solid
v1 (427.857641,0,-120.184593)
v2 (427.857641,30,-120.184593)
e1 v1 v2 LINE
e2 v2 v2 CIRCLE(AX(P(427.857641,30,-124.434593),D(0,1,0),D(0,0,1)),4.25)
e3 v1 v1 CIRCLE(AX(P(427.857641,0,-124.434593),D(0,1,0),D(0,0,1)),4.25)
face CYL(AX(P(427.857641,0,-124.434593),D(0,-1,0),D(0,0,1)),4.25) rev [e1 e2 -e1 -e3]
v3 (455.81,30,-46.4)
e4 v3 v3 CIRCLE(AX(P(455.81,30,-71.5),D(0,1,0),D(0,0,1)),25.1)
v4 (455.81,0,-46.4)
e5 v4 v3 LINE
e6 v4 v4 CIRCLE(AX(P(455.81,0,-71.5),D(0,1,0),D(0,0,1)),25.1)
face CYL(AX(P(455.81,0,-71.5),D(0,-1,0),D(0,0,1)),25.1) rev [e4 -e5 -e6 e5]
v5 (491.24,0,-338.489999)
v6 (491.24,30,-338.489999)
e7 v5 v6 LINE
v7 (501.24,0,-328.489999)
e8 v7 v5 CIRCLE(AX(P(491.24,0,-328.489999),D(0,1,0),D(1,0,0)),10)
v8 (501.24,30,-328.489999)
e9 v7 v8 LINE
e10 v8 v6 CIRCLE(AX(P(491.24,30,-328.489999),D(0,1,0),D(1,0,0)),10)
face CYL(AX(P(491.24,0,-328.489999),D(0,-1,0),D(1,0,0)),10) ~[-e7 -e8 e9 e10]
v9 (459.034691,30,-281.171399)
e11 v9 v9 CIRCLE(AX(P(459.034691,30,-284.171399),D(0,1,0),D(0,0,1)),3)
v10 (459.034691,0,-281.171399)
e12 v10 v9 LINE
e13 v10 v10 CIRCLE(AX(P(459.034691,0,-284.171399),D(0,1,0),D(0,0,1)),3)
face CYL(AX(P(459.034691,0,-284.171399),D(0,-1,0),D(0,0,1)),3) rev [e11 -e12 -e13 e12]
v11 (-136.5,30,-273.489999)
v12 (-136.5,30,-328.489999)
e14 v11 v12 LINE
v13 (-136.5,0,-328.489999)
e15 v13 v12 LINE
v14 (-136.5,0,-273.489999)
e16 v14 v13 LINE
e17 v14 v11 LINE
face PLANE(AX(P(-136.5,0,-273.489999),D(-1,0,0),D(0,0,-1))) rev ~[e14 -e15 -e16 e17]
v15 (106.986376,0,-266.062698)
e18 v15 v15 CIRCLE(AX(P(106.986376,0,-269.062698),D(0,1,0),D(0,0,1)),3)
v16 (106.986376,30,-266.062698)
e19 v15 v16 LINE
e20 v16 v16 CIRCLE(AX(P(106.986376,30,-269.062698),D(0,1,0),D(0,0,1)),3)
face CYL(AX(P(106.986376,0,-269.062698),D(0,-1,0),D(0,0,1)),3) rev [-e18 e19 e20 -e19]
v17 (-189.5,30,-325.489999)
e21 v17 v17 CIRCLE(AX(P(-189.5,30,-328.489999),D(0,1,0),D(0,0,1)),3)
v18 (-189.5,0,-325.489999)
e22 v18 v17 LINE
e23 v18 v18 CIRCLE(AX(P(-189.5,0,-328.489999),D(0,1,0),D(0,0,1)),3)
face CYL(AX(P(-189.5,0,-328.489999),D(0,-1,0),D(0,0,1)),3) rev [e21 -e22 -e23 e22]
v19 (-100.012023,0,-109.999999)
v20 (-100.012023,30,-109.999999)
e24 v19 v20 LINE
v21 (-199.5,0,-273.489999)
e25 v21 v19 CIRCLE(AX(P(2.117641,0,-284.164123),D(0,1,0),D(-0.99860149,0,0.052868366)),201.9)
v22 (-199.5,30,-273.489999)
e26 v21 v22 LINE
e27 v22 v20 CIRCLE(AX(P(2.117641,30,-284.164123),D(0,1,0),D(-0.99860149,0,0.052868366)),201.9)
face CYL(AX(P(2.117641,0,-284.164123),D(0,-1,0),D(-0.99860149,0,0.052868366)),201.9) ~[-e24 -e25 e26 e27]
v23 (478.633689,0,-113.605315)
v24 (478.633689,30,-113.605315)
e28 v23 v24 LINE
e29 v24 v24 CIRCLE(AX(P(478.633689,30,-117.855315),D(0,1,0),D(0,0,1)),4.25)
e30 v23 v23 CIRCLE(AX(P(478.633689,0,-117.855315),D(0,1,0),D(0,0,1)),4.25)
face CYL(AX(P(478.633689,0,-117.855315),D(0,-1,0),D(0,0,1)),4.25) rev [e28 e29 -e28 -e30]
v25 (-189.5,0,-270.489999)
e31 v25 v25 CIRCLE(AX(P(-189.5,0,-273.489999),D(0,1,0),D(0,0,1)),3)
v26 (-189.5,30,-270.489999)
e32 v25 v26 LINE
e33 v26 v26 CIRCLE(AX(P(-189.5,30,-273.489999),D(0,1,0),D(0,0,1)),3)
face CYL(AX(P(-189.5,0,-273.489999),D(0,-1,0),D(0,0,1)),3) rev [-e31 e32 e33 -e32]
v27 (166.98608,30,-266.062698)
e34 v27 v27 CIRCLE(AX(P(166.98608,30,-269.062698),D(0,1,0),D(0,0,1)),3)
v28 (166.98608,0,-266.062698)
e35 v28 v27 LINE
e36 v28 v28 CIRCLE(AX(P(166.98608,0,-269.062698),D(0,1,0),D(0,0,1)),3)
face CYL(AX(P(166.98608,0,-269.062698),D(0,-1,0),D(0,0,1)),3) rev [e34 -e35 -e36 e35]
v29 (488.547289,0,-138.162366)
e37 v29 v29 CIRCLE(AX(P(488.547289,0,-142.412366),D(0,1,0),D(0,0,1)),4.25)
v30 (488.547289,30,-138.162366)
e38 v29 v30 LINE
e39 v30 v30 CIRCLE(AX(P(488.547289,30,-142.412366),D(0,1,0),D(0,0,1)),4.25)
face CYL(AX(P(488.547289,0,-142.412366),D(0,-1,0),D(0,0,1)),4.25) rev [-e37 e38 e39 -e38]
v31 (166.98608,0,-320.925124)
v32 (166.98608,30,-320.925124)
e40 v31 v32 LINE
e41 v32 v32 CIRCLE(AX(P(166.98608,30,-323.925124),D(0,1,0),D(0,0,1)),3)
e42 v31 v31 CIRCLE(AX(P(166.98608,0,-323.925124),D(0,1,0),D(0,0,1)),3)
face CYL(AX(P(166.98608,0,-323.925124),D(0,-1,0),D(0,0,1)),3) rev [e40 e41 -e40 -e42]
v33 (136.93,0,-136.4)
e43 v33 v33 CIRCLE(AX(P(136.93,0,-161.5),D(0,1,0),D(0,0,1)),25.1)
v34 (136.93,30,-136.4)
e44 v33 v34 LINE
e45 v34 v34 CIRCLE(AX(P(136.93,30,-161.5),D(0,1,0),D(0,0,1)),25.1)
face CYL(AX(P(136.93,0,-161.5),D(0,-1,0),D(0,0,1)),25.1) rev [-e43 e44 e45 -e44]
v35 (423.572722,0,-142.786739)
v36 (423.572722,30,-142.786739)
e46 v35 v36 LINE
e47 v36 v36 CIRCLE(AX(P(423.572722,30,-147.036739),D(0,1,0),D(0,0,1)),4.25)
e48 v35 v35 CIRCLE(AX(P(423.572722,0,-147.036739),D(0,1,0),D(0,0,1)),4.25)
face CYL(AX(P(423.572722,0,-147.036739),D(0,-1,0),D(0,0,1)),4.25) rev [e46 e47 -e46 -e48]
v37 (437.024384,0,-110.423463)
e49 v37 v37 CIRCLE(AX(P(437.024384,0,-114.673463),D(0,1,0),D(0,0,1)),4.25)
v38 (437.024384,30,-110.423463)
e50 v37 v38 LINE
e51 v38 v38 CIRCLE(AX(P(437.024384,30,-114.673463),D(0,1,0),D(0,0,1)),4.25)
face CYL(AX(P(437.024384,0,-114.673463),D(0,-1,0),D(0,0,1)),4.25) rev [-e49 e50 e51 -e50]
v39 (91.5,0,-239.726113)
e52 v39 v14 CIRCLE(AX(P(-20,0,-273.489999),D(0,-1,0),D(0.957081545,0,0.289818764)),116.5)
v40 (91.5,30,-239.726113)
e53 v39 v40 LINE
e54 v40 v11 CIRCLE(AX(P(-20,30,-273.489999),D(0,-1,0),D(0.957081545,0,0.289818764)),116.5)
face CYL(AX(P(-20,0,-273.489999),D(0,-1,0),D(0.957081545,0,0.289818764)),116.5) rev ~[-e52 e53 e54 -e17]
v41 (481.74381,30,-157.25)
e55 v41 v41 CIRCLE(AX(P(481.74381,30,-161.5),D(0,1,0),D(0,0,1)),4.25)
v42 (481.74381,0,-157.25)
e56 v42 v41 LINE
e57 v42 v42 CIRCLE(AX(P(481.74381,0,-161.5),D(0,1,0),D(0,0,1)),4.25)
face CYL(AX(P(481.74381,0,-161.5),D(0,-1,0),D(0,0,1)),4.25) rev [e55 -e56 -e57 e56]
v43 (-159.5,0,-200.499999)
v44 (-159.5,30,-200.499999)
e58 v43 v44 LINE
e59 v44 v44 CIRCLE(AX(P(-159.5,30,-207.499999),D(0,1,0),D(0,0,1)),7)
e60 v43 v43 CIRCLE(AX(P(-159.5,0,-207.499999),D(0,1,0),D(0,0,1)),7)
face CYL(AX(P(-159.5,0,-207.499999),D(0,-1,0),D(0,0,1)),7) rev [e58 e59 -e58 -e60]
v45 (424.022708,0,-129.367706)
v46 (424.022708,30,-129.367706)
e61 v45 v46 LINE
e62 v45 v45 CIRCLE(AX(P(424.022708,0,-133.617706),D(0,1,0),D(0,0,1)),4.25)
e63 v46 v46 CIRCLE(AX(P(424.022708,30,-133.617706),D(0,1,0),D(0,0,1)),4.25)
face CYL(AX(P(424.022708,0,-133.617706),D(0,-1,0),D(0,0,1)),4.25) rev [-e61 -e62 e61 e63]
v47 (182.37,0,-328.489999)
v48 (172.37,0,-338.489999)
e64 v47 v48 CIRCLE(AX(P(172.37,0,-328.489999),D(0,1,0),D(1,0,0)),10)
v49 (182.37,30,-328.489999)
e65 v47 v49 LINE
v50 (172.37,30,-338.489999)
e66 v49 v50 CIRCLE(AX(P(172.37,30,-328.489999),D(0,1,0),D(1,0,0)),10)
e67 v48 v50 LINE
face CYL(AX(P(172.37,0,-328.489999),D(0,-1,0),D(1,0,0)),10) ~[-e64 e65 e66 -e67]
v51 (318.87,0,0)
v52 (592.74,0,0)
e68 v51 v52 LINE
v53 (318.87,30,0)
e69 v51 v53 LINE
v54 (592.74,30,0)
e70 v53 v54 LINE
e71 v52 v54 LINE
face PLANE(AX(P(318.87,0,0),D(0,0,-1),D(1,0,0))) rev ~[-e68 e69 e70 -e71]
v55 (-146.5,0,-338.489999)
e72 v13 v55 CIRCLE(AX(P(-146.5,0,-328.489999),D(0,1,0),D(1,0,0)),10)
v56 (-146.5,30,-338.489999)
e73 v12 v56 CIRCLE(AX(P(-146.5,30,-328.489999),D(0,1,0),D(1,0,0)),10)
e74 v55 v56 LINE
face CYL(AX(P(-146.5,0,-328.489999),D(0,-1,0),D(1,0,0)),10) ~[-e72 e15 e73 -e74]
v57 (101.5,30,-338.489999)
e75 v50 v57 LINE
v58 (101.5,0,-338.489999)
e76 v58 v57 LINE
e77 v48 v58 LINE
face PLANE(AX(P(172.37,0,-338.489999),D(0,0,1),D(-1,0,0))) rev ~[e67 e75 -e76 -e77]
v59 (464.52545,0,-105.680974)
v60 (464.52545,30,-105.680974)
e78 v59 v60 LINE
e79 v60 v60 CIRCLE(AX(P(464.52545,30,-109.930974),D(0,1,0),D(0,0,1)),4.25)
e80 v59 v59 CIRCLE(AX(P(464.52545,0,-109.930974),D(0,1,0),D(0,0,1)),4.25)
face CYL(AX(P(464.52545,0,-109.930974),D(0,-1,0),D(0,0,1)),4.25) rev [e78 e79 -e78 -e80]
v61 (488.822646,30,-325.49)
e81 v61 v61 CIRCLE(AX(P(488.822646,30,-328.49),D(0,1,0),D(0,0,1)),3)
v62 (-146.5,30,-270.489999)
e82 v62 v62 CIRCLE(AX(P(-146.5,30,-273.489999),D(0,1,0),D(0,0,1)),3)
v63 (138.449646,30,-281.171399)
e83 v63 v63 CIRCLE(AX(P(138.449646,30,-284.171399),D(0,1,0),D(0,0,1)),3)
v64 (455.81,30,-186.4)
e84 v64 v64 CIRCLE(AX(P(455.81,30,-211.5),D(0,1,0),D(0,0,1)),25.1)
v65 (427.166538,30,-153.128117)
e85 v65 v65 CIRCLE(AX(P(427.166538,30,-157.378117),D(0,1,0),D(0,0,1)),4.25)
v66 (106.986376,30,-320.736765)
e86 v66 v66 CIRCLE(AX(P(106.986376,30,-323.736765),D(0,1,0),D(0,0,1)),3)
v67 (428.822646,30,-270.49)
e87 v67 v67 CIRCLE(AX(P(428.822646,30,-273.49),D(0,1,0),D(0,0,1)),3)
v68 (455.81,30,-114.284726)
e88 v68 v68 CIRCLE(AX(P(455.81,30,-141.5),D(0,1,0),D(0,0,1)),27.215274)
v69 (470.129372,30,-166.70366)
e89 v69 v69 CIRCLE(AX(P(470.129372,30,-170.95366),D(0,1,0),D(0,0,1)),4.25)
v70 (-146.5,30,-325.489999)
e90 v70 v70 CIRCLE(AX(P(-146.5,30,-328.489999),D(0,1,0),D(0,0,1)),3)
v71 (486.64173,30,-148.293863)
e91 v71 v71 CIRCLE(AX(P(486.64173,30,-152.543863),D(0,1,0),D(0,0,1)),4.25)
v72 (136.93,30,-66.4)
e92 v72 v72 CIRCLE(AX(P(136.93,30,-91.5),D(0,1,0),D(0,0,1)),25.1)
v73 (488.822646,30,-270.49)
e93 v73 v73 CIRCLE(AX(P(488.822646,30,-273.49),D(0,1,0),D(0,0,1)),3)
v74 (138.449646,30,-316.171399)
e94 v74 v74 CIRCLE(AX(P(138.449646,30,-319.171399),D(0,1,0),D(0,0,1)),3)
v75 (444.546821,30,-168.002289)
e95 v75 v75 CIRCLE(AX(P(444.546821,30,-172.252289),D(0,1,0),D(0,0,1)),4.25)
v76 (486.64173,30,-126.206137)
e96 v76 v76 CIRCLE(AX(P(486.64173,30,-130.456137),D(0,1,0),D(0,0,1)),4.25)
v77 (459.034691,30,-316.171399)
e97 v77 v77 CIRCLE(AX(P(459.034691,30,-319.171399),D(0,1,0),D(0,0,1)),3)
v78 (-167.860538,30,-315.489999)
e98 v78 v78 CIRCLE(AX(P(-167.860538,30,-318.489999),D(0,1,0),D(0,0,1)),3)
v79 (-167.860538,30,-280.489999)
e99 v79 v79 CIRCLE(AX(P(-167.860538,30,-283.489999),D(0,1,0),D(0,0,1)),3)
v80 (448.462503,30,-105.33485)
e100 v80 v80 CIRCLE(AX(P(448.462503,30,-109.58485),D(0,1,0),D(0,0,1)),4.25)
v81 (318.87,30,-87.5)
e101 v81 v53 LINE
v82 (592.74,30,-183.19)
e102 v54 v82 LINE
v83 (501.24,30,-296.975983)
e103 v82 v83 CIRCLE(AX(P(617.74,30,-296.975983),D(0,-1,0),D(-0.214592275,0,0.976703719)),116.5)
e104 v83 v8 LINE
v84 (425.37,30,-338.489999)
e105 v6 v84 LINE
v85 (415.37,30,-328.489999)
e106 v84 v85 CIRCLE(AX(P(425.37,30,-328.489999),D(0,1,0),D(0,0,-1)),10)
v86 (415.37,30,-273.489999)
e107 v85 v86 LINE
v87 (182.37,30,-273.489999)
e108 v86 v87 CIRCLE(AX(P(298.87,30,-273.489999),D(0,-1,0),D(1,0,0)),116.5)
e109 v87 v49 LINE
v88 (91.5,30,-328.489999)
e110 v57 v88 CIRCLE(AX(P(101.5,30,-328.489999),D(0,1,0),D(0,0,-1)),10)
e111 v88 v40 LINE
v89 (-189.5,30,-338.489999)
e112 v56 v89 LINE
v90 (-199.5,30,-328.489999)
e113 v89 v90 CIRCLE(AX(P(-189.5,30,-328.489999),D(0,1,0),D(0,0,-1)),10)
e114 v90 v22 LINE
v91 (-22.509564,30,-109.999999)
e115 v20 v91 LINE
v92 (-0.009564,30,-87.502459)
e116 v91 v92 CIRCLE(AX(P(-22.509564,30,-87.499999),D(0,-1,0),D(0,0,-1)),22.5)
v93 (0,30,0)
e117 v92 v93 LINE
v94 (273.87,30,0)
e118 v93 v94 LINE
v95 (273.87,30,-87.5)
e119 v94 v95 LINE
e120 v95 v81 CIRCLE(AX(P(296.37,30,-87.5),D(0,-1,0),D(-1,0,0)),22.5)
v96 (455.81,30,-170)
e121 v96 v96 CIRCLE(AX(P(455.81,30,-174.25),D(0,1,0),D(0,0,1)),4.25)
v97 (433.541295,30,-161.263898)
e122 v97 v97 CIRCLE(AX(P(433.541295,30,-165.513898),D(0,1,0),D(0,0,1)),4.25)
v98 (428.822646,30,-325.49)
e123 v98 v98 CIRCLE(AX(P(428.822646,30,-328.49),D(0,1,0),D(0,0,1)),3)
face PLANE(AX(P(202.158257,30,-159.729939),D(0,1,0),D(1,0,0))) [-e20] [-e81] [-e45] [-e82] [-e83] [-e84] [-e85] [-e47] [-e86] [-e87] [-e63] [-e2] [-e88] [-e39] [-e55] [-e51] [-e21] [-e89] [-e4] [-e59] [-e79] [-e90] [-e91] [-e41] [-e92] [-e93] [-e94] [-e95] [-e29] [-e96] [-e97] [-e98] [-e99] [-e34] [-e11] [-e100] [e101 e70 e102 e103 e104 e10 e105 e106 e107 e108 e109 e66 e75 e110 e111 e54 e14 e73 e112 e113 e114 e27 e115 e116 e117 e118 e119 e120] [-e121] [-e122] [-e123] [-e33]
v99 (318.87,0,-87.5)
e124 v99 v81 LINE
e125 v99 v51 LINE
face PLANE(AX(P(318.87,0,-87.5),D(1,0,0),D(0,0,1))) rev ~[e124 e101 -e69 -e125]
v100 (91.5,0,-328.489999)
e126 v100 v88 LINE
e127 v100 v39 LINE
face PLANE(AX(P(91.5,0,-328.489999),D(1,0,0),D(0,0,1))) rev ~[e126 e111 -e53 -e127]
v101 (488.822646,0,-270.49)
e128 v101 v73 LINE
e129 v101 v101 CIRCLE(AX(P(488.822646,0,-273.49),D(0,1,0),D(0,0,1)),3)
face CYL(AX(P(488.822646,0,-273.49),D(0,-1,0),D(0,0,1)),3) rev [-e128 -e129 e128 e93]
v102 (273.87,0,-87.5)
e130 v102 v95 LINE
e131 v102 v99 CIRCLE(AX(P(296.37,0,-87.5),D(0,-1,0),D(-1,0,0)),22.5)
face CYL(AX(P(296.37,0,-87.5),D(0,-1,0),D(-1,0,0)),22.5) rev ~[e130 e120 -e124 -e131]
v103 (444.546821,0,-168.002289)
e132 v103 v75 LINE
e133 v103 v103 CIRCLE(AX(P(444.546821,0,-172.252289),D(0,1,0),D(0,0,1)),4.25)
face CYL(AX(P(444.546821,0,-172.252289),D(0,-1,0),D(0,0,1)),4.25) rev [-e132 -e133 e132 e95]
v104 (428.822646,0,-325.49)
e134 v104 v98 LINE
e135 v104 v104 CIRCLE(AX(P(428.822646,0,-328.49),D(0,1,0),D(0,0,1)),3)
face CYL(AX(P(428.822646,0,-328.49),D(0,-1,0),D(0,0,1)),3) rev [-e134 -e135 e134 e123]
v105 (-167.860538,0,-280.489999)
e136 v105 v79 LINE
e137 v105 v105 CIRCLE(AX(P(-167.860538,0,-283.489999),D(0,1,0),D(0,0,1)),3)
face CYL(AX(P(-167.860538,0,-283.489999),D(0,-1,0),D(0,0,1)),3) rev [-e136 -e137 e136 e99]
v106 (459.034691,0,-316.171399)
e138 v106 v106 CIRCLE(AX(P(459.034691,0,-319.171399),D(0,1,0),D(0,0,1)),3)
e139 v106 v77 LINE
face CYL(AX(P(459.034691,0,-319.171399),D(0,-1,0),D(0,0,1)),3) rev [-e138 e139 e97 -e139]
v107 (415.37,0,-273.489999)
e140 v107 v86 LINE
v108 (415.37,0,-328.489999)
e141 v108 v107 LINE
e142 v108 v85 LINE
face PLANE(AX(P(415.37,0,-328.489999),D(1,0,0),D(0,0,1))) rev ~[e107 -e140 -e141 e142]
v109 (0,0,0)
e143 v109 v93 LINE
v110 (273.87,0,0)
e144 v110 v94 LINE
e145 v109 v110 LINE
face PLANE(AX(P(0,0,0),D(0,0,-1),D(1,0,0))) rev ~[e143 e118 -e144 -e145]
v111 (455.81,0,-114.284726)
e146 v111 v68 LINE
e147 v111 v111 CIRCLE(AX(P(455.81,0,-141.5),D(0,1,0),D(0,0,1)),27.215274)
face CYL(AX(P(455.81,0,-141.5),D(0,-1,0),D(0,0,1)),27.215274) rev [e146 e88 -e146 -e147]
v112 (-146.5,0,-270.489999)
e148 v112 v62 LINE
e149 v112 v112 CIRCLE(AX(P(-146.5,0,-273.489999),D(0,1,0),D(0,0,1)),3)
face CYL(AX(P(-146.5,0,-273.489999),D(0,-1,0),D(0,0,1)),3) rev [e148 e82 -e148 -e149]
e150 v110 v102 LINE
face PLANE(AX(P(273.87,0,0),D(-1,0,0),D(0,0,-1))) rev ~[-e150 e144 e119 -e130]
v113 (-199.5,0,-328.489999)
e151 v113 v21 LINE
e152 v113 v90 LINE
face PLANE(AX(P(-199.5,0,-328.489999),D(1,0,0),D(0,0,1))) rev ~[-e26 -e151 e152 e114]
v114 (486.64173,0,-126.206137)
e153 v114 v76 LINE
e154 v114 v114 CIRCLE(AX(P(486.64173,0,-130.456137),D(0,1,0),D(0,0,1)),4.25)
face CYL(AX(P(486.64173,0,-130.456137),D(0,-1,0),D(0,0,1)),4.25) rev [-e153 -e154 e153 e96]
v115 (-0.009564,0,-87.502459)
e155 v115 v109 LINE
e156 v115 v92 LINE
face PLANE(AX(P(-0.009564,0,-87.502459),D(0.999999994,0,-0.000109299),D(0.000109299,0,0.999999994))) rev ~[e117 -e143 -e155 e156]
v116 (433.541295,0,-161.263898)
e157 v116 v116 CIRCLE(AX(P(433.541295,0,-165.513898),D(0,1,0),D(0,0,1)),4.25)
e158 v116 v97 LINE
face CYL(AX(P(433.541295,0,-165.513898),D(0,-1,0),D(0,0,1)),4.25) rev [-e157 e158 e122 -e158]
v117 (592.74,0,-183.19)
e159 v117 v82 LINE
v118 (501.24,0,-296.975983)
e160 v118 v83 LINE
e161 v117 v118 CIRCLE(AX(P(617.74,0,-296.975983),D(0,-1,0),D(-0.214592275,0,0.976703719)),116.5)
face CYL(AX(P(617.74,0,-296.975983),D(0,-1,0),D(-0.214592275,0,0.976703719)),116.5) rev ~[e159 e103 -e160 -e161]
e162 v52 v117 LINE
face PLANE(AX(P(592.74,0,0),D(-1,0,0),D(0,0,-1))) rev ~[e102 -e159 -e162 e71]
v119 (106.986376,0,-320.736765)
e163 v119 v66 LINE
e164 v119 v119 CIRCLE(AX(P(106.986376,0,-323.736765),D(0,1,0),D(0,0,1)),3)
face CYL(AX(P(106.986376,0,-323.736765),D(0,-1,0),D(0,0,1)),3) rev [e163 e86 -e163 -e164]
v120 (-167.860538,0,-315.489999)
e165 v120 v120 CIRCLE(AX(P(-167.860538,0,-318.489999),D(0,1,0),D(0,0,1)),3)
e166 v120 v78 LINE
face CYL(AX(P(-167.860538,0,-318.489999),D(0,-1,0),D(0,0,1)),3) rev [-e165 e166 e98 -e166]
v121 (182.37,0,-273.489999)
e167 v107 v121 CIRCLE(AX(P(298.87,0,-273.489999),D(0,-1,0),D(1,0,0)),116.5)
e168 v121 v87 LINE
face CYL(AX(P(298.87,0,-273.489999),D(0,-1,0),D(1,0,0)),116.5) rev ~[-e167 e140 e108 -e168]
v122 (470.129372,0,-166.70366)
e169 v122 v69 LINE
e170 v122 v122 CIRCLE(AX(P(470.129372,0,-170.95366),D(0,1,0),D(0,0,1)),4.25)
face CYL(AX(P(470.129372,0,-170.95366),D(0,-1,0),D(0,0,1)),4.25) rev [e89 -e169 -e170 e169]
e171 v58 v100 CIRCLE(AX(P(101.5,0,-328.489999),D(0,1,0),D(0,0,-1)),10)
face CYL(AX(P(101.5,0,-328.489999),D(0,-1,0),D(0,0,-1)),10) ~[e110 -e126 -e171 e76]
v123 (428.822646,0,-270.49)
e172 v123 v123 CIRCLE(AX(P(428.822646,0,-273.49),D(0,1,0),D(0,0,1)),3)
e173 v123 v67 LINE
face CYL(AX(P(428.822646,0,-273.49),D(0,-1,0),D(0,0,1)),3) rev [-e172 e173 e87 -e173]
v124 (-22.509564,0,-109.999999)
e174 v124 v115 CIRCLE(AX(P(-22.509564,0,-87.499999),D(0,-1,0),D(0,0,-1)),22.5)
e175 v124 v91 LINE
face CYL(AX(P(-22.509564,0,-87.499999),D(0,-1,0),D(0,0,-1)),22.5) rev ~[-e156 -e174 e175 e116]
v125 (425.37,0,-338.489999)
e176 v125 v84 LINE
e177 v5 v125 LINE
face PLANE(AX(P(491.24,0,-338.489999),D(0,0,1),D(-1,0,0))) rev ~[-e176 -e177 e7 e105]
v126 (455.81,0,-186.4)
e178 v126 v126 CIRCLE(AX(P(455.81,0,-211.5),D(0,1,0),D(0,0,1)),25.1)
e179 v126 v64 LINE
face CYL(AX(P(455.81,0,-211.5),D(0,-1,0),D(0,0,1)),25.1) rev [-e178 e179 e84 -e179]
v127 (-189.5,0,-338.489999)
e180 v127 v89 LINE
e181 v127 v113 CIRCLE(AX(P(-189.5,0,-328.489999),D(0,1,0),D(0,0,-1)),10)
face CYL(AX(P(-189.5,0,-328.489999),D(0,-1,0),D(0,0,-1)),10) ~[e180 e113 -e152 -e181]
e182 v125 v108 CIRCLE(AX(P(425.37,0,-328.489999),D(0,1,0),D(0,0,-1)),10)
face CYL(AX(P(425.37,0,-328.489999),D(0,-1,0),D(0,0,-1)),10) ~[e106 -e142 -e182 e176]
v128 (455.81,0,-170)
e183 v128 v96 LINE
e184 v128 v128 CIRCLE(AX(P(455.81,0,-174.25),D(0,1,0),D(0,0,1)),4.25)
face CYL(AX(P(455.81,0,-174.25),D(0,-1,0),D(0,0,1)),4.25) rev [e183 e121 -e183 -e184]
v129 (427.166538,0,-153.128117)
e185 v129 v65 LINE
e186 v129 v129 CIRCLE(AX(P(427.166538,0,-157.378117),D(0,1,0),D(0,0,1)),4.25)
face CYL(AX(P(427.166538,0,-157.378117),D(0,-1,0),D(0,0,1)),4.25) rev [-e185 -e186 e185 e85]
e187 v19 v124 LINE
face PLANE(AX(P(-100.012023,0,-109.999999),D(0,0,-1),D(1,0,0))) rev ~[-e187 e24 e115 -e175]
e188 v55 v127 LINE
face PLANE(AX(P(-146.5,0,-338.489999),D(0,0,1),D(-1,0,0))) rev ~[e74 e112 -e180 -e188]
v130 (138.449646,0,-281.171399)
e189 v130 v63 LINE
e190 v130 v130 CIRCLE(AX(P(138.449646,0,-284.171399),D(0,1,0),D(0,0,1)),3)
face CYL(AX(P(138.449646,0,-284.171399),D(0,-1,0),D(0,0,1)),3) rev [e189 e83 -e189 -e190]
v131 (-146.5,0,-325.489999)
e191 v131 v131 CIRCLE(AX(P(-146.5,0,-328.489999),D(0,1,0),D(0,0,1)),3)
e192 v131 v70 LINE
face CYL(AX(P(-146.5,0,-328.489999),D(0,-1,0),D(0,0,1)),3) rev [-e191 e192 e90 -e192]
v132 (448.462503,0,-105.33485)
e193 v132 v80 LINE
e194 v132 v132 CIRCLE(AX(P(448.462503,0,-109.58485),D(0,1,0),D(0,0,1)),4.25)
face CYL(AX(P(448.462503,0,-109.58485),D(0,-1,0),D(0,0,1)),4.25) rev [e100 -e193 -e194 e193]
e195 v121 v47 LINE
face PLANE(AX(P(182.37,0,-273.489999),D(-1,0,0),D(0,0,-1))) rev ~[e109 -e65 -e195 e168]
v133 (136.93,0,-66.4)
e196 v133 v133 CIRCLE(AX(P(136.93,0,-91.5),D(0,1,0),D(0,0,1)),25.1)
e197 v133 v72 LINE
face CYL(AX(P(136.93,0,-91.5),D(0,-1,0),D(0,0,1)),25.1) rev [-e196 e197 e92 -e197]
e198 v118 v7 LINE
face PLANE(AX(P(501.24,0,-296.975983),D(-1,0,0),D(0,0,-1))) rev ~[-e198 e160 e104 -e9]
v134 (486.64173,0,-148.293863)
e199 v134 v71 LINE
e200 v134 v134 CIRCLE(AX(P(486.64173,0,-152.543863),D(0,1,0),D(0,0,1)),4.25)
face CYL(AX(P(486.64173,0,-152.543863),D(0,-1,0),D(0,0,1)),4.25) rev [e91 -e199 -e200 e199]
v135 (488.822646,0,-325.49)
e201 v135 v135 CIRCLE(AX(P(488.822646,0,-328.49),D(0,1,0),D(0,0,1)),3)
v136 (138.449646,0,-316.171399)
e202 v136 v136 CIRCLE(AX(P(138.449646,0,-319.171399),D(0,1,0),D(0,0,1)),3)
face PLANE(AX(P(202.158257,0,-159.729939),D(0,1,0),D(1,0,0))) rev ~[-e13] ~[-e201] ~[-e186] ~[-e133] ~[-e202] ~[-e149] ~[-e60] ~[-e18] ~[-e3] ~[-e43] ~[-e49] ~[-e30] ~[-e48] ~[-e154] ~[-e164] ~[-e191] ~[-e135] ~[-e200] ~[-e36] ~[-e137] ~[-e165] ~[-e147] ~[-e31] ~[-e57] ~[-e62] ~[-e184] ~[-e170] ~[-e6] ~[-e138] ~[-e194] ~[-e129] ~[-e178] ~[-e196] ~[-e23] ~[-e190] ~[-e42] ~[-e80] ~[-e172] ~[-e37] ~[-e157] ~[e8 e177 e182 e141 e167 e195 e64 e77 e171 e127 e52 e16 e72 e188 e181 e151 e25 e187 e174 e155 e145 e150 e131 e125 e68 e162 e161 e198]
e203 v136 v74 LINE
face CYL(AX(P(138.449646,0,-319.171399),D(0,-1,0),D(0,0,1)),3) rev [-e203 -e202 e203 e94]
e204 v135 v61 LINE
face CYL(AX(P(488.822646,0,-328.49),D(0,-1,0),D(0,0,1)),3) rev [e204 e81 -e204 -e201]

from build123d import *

# Parameters (mm, degrees)
SKETCH3_R           = 7
SKETCH3_R_2         = 3
SKETCH3_R_3         = 25.1
SKETCH3_R_4         = 27.215273825
SKETCH3_R_5         = 4.25
BOSS_EXTRUDE2_DEPTH = 30


with BuildPart() as part:
    # Sketch3 → Boss-Extrude2 (new body)
    with BuildSketch(Plane(origin=(0, 0, 0), x_dir=(1, 0, 0), z_dir=(0, 1, 0))):
        with BuildLine():
            Line((0, 0), (273.87, 0))
            Line((273.87, 0), (273.87, 87.5))
            ThreePointArc((273.87, 87.5), (296.37, 110), (318.87, 87.5))
            Line((318.87, 87.5), (318.87, 0))
            Line((318.87, 0), (592.74, 0))
            Line((592.74, 0), (592.74, 183.19))
            ThreePointArc((592.74, 183.19), (526.952473324, 223.969990415), (501.24, 296.97598332))
            Line((501.24, 296.97598332), (501.24, 328.489999343))
            ThreePointArc((501.24, 328.489999343), (498.311067812, 335.561067155), (491.24, 338.489999343))
            Line((491.24, 338.489999343), (425.37, 338.489999343))
            ThreePointArc((425.37, 338.489999343), (418.298932188, 335.561067155), (415.37, 328.489999343))
            Line((415.37, 328.489999343), (415.37, 273.489999343))
            ThreePointArc((415.37, 273.489999343), (298.87, 156.989999343), (182.37, 273.489999343))
            Line((182.37, 273.489999343), (182.37, 328.489999343))
            ThreePointArc((182.37, 328.489999343), (179.441067812, 335.561067155), (172.37, 338.489999343))
            Line((172.37, 338.489999343), (101.5, 338.489999343))
            ThreePointArc((101.5, 338.489999343), (94.428932188, 335.561067155), (91.5, 328.489999343))
            Line((91.5, 328.489999343), (91.5, 239.726113311))
            ThreePointArc((91.5, 239.726113311), (-37.066048166, 158.246778284), (-136.5, 273.489999343))
            Line((-136.5, 273.489999343), (-136.5, 328.489999343))
            ThreePointArc((-136.5, 328.489999343), (-139.428932188, 335.561067155), (-146.5, 338.489999343))
            Line((-146.5, 338.489999343), (-189.5, 338.489999343))
            ThreePointArc((-189.5, 338.489999343), (-196.571067812, 335.561067155), (-199.5, 328.489999343))
            Line((-199.5, 328.489999343), (-199.5, 273.489999343))
            ThreePointArc((-199.5, 273.489999343), (-170.358013315, 179.208137798), (-100.012022841, 109.999999343))
            Line((-100.012022841, 109.999999343), (-22.509563758, 109.999999343))
            ThreePointArc((-22.509563758, 109.999999343), (-6.60053067, 103.410771361), (-0.009563892, 87.50245856))
            Line((-0.009563892, 87.50245856), (0, 0))
        make_face()
        with Locations(Location((-159.5, 207.499999343, 0), (0, 0, 270))):
            Circle(SKETCH3_R, mode=Mode.SUBTRACT)
        with Locations(Location((-189.5, 328.489999343, 0), (0, 0, 270))):
            Circle(SKETCH3_R_2, mode=Mode.SUBTRACT)
        with Locations(Location((-146.5, 328.489999343, 0), (0, 0, 270))):
            Circle(SKETCH3_R_2, mode=Mode.SUBTRACT)
        with Locations(Location((-167.860538183, 318.489999343, 0), (0, 0, 270))):
            Circle(SKETCH3_R_2, mode=Mode.SUBTRACT)
        with Locations(Location((-146.5, 273.489999343, 0), (0, 0, 270))):
            Circle(SKETCH3_R_2, mode=Mode.SUBTRACT)
        with Locations(Location((-167.860538183, 283.489999343, 0), (0, 0, 270))):
            Circle(SKETCH3_R_2, mode=Mode.SUBTRACT)
        with Locations(Location((-189.5, 273.489999343, 0), (0, 0, 270))):
            Circle(SKETCH3_R_2, mode=Mode.SUBTRACT)
        with Locations(Location((166.986079988, 269.062698156, 0), (0, 0, 270))):
            Circle(SKETCH3_R_2, mode=Mode.SUBTRACT)
        with Locations(Location((166.986079988, 323.925123651, 0), (0, 0, 270))):
            Circle(SKETCH3_R_2, mode=Mode.SUBTRACT)
        with Locations(Location((138.449645935, 319.171398702, 0), (0, 0, 270))):
            Circle(SKETCH3_R_2, mode=Mode.SUBTRACT)
        with Locations(Location((106.986375646, 269.062698156, 0), (0, 0, 270))):
            Circle(SKETCH3_R_2, mode=Mode.SUBTRACT)
        with Locations(Location((106.986375646, 323.736765186, 0), (0, 0, 270))):
            Circle(SKETCH3_R_2, mode=Mode.SUBTRACT)
        with Locations(Location((488.822646039, 273.49, 0), (0, 0, 270))):
            Circle(SKETCH3_R_2, mode=Mode.SUBTRACT)
        with Locations(Location((488.822646039, 328.49, 0), (0, 0, 270))):
            Circle(SKETCH3_R_2, mode=Mode.SUBTRACT)
        with Locations(Location((459.034690833, 319.171398702, 0), (0, 0, 270))):
            Circle(SKETCH3_R_2, mode=Mode.SUBTRACT)
        with Locations(Location((428.822646039, 273.49, 0), (0, 0, 270))):
            Circle(SKETCH3_R_2, mode=Mode.SUBTRACT)
        with Locations(Location((428.822646039, 328.49, 0), (0, 0, 270))):
            Circle(SKETCH3_R_2, mode=Mode.SUBTRACT)
        with Locations(Location((138.449645935, 284.171398702, 0), (0, 0, 270))):
            Circle(SKETCH3_R_2, mode=Mode.SUBTRACT)
        with Locations(Location((459.034690833, 284.171398702, 0), (0, 0, 270))):
            Circle(SKETCH3_R_2, mode=Mode.SUBTRACT)
        with Locations(Location((136.93, 161.5, 0), (0, 0, 270))):
            Circle(SKETCH3_R_3, mode=Mode.SUBTRACT)
        with Locations(Location((136.93, 91.5, 0), (0, 0, 270))):
            Circle(SKETCH3_R_3, mode=Mode.SUBTRACT)
        with Locations(Location((455.81, 211.5, 0), (0, 0, 270))):
            Circle(SKETCH3_R_3, mode=Mode.SUBTRACT)
        with Locations(Location((455.81, 71.5, 0), (0, 0, 270))):
            Circle(SKETCH3_R_3, mode=Mode.SUBTRACT)
        with Locations(Location((455.81, 141.5, 0), (0, 0, 270))):
            Circle(SKETCH3_R_4, mode=Mode.SUBTRACT)
        with Locations(Location((455.81, 174.25, 0), (0, 0, 270))):
            Circle(SKETCH3_R_5, mode=Mode.SUBTRACT)
        with Locations(Location((470.12937162, 170.953660153, 0), (0, 0, 270))):
            Circle(SKETCH3_R_5, mode=Mode.SUBTRACT)
        with Locations(Location((481.743809978, 161.5, 0), (0, 0, 270))):
            Circle(SKETCH3_R_5, mode=Mode.SUBTRACT)
        with Locations(Location((486.641730392, 152.543862595, 0), (0, 0, 270))):
            Circle(SKETCH3_R_5, mode=Mode.SUBTRACT)
        with Locations(Location((488.54728895, 142.41236627, 0), (0, 0, 270))):
            Circle(SKETCH3_R_5, mode=Mode.SUBTRACT)
        with Locations(Location((486.641730392, 130.456137405, 0), (0, 0, 270))):
            Circle(SKETCH3_R_5, mode=Mode.SUBTRACT)
        with Locations(Location((478.633688814, 117.855315192, 0), (0, 0, 270))):
            Circle(SKETCH3_R_5, mode=Mode.SUBTRACT)
        with Locations(Location((464.525450227, 109.930973608, 0), (0, 0, 270))):
            Circle(SKETCH3_R_5, mode=Mode.SUBTRACT)
        with Locations(Location((448.462502984, 109.584850187, 0), (0, 0, 270))):
            Circle(SKETCH3_R_5, mode=Mode.SUBTRACT)
        with Locations(Location((437.02438353, 114.673462507, 0), (0, 0, 270))):
            Circle(SKETCH3_R_5, mode=Mode.SUBTRACT)
        with Locations(Location((427.857640986, 124.434592722, 0), (0, 0, 270))):
            Circle(SKETCH3_R_5, mode=Mode.SUBTRACT)
        with Locations(Location((424.022707805, 133.61770624, 0), (0, 0, 270))):
            Circle(SKETCH3_R_5, mode=Mode.SUBTRACT)
        with Locations(Location((423.572722, 147.036738763, 0), (0, 0, 270))):
            Circle(SKETCH3_R_5, mode=Mode.SUBTRACT)
        with Locations(Location((427.166538269, 157.378117019, 0), (0, 0, 270))):
            Circle(SKETCH3_R_5, mode=Mode.SUBTRACT)
        with Locations(Location((433.541295108, 165.513897694, 0), (0, 0, 270))):
            Circle(SKETCH3_R_5, mode=Mode.SUBTRACT)
        with Locations(Location((444.546820962, 172.252289312, 0), (0, 0, 270))):
            Circle(SKETCH3_R_5, mode=Mode.SUBTRACT)
    extrude(amount=BOSS_EXTRUDE2_DEPTH)


solid = part.part
